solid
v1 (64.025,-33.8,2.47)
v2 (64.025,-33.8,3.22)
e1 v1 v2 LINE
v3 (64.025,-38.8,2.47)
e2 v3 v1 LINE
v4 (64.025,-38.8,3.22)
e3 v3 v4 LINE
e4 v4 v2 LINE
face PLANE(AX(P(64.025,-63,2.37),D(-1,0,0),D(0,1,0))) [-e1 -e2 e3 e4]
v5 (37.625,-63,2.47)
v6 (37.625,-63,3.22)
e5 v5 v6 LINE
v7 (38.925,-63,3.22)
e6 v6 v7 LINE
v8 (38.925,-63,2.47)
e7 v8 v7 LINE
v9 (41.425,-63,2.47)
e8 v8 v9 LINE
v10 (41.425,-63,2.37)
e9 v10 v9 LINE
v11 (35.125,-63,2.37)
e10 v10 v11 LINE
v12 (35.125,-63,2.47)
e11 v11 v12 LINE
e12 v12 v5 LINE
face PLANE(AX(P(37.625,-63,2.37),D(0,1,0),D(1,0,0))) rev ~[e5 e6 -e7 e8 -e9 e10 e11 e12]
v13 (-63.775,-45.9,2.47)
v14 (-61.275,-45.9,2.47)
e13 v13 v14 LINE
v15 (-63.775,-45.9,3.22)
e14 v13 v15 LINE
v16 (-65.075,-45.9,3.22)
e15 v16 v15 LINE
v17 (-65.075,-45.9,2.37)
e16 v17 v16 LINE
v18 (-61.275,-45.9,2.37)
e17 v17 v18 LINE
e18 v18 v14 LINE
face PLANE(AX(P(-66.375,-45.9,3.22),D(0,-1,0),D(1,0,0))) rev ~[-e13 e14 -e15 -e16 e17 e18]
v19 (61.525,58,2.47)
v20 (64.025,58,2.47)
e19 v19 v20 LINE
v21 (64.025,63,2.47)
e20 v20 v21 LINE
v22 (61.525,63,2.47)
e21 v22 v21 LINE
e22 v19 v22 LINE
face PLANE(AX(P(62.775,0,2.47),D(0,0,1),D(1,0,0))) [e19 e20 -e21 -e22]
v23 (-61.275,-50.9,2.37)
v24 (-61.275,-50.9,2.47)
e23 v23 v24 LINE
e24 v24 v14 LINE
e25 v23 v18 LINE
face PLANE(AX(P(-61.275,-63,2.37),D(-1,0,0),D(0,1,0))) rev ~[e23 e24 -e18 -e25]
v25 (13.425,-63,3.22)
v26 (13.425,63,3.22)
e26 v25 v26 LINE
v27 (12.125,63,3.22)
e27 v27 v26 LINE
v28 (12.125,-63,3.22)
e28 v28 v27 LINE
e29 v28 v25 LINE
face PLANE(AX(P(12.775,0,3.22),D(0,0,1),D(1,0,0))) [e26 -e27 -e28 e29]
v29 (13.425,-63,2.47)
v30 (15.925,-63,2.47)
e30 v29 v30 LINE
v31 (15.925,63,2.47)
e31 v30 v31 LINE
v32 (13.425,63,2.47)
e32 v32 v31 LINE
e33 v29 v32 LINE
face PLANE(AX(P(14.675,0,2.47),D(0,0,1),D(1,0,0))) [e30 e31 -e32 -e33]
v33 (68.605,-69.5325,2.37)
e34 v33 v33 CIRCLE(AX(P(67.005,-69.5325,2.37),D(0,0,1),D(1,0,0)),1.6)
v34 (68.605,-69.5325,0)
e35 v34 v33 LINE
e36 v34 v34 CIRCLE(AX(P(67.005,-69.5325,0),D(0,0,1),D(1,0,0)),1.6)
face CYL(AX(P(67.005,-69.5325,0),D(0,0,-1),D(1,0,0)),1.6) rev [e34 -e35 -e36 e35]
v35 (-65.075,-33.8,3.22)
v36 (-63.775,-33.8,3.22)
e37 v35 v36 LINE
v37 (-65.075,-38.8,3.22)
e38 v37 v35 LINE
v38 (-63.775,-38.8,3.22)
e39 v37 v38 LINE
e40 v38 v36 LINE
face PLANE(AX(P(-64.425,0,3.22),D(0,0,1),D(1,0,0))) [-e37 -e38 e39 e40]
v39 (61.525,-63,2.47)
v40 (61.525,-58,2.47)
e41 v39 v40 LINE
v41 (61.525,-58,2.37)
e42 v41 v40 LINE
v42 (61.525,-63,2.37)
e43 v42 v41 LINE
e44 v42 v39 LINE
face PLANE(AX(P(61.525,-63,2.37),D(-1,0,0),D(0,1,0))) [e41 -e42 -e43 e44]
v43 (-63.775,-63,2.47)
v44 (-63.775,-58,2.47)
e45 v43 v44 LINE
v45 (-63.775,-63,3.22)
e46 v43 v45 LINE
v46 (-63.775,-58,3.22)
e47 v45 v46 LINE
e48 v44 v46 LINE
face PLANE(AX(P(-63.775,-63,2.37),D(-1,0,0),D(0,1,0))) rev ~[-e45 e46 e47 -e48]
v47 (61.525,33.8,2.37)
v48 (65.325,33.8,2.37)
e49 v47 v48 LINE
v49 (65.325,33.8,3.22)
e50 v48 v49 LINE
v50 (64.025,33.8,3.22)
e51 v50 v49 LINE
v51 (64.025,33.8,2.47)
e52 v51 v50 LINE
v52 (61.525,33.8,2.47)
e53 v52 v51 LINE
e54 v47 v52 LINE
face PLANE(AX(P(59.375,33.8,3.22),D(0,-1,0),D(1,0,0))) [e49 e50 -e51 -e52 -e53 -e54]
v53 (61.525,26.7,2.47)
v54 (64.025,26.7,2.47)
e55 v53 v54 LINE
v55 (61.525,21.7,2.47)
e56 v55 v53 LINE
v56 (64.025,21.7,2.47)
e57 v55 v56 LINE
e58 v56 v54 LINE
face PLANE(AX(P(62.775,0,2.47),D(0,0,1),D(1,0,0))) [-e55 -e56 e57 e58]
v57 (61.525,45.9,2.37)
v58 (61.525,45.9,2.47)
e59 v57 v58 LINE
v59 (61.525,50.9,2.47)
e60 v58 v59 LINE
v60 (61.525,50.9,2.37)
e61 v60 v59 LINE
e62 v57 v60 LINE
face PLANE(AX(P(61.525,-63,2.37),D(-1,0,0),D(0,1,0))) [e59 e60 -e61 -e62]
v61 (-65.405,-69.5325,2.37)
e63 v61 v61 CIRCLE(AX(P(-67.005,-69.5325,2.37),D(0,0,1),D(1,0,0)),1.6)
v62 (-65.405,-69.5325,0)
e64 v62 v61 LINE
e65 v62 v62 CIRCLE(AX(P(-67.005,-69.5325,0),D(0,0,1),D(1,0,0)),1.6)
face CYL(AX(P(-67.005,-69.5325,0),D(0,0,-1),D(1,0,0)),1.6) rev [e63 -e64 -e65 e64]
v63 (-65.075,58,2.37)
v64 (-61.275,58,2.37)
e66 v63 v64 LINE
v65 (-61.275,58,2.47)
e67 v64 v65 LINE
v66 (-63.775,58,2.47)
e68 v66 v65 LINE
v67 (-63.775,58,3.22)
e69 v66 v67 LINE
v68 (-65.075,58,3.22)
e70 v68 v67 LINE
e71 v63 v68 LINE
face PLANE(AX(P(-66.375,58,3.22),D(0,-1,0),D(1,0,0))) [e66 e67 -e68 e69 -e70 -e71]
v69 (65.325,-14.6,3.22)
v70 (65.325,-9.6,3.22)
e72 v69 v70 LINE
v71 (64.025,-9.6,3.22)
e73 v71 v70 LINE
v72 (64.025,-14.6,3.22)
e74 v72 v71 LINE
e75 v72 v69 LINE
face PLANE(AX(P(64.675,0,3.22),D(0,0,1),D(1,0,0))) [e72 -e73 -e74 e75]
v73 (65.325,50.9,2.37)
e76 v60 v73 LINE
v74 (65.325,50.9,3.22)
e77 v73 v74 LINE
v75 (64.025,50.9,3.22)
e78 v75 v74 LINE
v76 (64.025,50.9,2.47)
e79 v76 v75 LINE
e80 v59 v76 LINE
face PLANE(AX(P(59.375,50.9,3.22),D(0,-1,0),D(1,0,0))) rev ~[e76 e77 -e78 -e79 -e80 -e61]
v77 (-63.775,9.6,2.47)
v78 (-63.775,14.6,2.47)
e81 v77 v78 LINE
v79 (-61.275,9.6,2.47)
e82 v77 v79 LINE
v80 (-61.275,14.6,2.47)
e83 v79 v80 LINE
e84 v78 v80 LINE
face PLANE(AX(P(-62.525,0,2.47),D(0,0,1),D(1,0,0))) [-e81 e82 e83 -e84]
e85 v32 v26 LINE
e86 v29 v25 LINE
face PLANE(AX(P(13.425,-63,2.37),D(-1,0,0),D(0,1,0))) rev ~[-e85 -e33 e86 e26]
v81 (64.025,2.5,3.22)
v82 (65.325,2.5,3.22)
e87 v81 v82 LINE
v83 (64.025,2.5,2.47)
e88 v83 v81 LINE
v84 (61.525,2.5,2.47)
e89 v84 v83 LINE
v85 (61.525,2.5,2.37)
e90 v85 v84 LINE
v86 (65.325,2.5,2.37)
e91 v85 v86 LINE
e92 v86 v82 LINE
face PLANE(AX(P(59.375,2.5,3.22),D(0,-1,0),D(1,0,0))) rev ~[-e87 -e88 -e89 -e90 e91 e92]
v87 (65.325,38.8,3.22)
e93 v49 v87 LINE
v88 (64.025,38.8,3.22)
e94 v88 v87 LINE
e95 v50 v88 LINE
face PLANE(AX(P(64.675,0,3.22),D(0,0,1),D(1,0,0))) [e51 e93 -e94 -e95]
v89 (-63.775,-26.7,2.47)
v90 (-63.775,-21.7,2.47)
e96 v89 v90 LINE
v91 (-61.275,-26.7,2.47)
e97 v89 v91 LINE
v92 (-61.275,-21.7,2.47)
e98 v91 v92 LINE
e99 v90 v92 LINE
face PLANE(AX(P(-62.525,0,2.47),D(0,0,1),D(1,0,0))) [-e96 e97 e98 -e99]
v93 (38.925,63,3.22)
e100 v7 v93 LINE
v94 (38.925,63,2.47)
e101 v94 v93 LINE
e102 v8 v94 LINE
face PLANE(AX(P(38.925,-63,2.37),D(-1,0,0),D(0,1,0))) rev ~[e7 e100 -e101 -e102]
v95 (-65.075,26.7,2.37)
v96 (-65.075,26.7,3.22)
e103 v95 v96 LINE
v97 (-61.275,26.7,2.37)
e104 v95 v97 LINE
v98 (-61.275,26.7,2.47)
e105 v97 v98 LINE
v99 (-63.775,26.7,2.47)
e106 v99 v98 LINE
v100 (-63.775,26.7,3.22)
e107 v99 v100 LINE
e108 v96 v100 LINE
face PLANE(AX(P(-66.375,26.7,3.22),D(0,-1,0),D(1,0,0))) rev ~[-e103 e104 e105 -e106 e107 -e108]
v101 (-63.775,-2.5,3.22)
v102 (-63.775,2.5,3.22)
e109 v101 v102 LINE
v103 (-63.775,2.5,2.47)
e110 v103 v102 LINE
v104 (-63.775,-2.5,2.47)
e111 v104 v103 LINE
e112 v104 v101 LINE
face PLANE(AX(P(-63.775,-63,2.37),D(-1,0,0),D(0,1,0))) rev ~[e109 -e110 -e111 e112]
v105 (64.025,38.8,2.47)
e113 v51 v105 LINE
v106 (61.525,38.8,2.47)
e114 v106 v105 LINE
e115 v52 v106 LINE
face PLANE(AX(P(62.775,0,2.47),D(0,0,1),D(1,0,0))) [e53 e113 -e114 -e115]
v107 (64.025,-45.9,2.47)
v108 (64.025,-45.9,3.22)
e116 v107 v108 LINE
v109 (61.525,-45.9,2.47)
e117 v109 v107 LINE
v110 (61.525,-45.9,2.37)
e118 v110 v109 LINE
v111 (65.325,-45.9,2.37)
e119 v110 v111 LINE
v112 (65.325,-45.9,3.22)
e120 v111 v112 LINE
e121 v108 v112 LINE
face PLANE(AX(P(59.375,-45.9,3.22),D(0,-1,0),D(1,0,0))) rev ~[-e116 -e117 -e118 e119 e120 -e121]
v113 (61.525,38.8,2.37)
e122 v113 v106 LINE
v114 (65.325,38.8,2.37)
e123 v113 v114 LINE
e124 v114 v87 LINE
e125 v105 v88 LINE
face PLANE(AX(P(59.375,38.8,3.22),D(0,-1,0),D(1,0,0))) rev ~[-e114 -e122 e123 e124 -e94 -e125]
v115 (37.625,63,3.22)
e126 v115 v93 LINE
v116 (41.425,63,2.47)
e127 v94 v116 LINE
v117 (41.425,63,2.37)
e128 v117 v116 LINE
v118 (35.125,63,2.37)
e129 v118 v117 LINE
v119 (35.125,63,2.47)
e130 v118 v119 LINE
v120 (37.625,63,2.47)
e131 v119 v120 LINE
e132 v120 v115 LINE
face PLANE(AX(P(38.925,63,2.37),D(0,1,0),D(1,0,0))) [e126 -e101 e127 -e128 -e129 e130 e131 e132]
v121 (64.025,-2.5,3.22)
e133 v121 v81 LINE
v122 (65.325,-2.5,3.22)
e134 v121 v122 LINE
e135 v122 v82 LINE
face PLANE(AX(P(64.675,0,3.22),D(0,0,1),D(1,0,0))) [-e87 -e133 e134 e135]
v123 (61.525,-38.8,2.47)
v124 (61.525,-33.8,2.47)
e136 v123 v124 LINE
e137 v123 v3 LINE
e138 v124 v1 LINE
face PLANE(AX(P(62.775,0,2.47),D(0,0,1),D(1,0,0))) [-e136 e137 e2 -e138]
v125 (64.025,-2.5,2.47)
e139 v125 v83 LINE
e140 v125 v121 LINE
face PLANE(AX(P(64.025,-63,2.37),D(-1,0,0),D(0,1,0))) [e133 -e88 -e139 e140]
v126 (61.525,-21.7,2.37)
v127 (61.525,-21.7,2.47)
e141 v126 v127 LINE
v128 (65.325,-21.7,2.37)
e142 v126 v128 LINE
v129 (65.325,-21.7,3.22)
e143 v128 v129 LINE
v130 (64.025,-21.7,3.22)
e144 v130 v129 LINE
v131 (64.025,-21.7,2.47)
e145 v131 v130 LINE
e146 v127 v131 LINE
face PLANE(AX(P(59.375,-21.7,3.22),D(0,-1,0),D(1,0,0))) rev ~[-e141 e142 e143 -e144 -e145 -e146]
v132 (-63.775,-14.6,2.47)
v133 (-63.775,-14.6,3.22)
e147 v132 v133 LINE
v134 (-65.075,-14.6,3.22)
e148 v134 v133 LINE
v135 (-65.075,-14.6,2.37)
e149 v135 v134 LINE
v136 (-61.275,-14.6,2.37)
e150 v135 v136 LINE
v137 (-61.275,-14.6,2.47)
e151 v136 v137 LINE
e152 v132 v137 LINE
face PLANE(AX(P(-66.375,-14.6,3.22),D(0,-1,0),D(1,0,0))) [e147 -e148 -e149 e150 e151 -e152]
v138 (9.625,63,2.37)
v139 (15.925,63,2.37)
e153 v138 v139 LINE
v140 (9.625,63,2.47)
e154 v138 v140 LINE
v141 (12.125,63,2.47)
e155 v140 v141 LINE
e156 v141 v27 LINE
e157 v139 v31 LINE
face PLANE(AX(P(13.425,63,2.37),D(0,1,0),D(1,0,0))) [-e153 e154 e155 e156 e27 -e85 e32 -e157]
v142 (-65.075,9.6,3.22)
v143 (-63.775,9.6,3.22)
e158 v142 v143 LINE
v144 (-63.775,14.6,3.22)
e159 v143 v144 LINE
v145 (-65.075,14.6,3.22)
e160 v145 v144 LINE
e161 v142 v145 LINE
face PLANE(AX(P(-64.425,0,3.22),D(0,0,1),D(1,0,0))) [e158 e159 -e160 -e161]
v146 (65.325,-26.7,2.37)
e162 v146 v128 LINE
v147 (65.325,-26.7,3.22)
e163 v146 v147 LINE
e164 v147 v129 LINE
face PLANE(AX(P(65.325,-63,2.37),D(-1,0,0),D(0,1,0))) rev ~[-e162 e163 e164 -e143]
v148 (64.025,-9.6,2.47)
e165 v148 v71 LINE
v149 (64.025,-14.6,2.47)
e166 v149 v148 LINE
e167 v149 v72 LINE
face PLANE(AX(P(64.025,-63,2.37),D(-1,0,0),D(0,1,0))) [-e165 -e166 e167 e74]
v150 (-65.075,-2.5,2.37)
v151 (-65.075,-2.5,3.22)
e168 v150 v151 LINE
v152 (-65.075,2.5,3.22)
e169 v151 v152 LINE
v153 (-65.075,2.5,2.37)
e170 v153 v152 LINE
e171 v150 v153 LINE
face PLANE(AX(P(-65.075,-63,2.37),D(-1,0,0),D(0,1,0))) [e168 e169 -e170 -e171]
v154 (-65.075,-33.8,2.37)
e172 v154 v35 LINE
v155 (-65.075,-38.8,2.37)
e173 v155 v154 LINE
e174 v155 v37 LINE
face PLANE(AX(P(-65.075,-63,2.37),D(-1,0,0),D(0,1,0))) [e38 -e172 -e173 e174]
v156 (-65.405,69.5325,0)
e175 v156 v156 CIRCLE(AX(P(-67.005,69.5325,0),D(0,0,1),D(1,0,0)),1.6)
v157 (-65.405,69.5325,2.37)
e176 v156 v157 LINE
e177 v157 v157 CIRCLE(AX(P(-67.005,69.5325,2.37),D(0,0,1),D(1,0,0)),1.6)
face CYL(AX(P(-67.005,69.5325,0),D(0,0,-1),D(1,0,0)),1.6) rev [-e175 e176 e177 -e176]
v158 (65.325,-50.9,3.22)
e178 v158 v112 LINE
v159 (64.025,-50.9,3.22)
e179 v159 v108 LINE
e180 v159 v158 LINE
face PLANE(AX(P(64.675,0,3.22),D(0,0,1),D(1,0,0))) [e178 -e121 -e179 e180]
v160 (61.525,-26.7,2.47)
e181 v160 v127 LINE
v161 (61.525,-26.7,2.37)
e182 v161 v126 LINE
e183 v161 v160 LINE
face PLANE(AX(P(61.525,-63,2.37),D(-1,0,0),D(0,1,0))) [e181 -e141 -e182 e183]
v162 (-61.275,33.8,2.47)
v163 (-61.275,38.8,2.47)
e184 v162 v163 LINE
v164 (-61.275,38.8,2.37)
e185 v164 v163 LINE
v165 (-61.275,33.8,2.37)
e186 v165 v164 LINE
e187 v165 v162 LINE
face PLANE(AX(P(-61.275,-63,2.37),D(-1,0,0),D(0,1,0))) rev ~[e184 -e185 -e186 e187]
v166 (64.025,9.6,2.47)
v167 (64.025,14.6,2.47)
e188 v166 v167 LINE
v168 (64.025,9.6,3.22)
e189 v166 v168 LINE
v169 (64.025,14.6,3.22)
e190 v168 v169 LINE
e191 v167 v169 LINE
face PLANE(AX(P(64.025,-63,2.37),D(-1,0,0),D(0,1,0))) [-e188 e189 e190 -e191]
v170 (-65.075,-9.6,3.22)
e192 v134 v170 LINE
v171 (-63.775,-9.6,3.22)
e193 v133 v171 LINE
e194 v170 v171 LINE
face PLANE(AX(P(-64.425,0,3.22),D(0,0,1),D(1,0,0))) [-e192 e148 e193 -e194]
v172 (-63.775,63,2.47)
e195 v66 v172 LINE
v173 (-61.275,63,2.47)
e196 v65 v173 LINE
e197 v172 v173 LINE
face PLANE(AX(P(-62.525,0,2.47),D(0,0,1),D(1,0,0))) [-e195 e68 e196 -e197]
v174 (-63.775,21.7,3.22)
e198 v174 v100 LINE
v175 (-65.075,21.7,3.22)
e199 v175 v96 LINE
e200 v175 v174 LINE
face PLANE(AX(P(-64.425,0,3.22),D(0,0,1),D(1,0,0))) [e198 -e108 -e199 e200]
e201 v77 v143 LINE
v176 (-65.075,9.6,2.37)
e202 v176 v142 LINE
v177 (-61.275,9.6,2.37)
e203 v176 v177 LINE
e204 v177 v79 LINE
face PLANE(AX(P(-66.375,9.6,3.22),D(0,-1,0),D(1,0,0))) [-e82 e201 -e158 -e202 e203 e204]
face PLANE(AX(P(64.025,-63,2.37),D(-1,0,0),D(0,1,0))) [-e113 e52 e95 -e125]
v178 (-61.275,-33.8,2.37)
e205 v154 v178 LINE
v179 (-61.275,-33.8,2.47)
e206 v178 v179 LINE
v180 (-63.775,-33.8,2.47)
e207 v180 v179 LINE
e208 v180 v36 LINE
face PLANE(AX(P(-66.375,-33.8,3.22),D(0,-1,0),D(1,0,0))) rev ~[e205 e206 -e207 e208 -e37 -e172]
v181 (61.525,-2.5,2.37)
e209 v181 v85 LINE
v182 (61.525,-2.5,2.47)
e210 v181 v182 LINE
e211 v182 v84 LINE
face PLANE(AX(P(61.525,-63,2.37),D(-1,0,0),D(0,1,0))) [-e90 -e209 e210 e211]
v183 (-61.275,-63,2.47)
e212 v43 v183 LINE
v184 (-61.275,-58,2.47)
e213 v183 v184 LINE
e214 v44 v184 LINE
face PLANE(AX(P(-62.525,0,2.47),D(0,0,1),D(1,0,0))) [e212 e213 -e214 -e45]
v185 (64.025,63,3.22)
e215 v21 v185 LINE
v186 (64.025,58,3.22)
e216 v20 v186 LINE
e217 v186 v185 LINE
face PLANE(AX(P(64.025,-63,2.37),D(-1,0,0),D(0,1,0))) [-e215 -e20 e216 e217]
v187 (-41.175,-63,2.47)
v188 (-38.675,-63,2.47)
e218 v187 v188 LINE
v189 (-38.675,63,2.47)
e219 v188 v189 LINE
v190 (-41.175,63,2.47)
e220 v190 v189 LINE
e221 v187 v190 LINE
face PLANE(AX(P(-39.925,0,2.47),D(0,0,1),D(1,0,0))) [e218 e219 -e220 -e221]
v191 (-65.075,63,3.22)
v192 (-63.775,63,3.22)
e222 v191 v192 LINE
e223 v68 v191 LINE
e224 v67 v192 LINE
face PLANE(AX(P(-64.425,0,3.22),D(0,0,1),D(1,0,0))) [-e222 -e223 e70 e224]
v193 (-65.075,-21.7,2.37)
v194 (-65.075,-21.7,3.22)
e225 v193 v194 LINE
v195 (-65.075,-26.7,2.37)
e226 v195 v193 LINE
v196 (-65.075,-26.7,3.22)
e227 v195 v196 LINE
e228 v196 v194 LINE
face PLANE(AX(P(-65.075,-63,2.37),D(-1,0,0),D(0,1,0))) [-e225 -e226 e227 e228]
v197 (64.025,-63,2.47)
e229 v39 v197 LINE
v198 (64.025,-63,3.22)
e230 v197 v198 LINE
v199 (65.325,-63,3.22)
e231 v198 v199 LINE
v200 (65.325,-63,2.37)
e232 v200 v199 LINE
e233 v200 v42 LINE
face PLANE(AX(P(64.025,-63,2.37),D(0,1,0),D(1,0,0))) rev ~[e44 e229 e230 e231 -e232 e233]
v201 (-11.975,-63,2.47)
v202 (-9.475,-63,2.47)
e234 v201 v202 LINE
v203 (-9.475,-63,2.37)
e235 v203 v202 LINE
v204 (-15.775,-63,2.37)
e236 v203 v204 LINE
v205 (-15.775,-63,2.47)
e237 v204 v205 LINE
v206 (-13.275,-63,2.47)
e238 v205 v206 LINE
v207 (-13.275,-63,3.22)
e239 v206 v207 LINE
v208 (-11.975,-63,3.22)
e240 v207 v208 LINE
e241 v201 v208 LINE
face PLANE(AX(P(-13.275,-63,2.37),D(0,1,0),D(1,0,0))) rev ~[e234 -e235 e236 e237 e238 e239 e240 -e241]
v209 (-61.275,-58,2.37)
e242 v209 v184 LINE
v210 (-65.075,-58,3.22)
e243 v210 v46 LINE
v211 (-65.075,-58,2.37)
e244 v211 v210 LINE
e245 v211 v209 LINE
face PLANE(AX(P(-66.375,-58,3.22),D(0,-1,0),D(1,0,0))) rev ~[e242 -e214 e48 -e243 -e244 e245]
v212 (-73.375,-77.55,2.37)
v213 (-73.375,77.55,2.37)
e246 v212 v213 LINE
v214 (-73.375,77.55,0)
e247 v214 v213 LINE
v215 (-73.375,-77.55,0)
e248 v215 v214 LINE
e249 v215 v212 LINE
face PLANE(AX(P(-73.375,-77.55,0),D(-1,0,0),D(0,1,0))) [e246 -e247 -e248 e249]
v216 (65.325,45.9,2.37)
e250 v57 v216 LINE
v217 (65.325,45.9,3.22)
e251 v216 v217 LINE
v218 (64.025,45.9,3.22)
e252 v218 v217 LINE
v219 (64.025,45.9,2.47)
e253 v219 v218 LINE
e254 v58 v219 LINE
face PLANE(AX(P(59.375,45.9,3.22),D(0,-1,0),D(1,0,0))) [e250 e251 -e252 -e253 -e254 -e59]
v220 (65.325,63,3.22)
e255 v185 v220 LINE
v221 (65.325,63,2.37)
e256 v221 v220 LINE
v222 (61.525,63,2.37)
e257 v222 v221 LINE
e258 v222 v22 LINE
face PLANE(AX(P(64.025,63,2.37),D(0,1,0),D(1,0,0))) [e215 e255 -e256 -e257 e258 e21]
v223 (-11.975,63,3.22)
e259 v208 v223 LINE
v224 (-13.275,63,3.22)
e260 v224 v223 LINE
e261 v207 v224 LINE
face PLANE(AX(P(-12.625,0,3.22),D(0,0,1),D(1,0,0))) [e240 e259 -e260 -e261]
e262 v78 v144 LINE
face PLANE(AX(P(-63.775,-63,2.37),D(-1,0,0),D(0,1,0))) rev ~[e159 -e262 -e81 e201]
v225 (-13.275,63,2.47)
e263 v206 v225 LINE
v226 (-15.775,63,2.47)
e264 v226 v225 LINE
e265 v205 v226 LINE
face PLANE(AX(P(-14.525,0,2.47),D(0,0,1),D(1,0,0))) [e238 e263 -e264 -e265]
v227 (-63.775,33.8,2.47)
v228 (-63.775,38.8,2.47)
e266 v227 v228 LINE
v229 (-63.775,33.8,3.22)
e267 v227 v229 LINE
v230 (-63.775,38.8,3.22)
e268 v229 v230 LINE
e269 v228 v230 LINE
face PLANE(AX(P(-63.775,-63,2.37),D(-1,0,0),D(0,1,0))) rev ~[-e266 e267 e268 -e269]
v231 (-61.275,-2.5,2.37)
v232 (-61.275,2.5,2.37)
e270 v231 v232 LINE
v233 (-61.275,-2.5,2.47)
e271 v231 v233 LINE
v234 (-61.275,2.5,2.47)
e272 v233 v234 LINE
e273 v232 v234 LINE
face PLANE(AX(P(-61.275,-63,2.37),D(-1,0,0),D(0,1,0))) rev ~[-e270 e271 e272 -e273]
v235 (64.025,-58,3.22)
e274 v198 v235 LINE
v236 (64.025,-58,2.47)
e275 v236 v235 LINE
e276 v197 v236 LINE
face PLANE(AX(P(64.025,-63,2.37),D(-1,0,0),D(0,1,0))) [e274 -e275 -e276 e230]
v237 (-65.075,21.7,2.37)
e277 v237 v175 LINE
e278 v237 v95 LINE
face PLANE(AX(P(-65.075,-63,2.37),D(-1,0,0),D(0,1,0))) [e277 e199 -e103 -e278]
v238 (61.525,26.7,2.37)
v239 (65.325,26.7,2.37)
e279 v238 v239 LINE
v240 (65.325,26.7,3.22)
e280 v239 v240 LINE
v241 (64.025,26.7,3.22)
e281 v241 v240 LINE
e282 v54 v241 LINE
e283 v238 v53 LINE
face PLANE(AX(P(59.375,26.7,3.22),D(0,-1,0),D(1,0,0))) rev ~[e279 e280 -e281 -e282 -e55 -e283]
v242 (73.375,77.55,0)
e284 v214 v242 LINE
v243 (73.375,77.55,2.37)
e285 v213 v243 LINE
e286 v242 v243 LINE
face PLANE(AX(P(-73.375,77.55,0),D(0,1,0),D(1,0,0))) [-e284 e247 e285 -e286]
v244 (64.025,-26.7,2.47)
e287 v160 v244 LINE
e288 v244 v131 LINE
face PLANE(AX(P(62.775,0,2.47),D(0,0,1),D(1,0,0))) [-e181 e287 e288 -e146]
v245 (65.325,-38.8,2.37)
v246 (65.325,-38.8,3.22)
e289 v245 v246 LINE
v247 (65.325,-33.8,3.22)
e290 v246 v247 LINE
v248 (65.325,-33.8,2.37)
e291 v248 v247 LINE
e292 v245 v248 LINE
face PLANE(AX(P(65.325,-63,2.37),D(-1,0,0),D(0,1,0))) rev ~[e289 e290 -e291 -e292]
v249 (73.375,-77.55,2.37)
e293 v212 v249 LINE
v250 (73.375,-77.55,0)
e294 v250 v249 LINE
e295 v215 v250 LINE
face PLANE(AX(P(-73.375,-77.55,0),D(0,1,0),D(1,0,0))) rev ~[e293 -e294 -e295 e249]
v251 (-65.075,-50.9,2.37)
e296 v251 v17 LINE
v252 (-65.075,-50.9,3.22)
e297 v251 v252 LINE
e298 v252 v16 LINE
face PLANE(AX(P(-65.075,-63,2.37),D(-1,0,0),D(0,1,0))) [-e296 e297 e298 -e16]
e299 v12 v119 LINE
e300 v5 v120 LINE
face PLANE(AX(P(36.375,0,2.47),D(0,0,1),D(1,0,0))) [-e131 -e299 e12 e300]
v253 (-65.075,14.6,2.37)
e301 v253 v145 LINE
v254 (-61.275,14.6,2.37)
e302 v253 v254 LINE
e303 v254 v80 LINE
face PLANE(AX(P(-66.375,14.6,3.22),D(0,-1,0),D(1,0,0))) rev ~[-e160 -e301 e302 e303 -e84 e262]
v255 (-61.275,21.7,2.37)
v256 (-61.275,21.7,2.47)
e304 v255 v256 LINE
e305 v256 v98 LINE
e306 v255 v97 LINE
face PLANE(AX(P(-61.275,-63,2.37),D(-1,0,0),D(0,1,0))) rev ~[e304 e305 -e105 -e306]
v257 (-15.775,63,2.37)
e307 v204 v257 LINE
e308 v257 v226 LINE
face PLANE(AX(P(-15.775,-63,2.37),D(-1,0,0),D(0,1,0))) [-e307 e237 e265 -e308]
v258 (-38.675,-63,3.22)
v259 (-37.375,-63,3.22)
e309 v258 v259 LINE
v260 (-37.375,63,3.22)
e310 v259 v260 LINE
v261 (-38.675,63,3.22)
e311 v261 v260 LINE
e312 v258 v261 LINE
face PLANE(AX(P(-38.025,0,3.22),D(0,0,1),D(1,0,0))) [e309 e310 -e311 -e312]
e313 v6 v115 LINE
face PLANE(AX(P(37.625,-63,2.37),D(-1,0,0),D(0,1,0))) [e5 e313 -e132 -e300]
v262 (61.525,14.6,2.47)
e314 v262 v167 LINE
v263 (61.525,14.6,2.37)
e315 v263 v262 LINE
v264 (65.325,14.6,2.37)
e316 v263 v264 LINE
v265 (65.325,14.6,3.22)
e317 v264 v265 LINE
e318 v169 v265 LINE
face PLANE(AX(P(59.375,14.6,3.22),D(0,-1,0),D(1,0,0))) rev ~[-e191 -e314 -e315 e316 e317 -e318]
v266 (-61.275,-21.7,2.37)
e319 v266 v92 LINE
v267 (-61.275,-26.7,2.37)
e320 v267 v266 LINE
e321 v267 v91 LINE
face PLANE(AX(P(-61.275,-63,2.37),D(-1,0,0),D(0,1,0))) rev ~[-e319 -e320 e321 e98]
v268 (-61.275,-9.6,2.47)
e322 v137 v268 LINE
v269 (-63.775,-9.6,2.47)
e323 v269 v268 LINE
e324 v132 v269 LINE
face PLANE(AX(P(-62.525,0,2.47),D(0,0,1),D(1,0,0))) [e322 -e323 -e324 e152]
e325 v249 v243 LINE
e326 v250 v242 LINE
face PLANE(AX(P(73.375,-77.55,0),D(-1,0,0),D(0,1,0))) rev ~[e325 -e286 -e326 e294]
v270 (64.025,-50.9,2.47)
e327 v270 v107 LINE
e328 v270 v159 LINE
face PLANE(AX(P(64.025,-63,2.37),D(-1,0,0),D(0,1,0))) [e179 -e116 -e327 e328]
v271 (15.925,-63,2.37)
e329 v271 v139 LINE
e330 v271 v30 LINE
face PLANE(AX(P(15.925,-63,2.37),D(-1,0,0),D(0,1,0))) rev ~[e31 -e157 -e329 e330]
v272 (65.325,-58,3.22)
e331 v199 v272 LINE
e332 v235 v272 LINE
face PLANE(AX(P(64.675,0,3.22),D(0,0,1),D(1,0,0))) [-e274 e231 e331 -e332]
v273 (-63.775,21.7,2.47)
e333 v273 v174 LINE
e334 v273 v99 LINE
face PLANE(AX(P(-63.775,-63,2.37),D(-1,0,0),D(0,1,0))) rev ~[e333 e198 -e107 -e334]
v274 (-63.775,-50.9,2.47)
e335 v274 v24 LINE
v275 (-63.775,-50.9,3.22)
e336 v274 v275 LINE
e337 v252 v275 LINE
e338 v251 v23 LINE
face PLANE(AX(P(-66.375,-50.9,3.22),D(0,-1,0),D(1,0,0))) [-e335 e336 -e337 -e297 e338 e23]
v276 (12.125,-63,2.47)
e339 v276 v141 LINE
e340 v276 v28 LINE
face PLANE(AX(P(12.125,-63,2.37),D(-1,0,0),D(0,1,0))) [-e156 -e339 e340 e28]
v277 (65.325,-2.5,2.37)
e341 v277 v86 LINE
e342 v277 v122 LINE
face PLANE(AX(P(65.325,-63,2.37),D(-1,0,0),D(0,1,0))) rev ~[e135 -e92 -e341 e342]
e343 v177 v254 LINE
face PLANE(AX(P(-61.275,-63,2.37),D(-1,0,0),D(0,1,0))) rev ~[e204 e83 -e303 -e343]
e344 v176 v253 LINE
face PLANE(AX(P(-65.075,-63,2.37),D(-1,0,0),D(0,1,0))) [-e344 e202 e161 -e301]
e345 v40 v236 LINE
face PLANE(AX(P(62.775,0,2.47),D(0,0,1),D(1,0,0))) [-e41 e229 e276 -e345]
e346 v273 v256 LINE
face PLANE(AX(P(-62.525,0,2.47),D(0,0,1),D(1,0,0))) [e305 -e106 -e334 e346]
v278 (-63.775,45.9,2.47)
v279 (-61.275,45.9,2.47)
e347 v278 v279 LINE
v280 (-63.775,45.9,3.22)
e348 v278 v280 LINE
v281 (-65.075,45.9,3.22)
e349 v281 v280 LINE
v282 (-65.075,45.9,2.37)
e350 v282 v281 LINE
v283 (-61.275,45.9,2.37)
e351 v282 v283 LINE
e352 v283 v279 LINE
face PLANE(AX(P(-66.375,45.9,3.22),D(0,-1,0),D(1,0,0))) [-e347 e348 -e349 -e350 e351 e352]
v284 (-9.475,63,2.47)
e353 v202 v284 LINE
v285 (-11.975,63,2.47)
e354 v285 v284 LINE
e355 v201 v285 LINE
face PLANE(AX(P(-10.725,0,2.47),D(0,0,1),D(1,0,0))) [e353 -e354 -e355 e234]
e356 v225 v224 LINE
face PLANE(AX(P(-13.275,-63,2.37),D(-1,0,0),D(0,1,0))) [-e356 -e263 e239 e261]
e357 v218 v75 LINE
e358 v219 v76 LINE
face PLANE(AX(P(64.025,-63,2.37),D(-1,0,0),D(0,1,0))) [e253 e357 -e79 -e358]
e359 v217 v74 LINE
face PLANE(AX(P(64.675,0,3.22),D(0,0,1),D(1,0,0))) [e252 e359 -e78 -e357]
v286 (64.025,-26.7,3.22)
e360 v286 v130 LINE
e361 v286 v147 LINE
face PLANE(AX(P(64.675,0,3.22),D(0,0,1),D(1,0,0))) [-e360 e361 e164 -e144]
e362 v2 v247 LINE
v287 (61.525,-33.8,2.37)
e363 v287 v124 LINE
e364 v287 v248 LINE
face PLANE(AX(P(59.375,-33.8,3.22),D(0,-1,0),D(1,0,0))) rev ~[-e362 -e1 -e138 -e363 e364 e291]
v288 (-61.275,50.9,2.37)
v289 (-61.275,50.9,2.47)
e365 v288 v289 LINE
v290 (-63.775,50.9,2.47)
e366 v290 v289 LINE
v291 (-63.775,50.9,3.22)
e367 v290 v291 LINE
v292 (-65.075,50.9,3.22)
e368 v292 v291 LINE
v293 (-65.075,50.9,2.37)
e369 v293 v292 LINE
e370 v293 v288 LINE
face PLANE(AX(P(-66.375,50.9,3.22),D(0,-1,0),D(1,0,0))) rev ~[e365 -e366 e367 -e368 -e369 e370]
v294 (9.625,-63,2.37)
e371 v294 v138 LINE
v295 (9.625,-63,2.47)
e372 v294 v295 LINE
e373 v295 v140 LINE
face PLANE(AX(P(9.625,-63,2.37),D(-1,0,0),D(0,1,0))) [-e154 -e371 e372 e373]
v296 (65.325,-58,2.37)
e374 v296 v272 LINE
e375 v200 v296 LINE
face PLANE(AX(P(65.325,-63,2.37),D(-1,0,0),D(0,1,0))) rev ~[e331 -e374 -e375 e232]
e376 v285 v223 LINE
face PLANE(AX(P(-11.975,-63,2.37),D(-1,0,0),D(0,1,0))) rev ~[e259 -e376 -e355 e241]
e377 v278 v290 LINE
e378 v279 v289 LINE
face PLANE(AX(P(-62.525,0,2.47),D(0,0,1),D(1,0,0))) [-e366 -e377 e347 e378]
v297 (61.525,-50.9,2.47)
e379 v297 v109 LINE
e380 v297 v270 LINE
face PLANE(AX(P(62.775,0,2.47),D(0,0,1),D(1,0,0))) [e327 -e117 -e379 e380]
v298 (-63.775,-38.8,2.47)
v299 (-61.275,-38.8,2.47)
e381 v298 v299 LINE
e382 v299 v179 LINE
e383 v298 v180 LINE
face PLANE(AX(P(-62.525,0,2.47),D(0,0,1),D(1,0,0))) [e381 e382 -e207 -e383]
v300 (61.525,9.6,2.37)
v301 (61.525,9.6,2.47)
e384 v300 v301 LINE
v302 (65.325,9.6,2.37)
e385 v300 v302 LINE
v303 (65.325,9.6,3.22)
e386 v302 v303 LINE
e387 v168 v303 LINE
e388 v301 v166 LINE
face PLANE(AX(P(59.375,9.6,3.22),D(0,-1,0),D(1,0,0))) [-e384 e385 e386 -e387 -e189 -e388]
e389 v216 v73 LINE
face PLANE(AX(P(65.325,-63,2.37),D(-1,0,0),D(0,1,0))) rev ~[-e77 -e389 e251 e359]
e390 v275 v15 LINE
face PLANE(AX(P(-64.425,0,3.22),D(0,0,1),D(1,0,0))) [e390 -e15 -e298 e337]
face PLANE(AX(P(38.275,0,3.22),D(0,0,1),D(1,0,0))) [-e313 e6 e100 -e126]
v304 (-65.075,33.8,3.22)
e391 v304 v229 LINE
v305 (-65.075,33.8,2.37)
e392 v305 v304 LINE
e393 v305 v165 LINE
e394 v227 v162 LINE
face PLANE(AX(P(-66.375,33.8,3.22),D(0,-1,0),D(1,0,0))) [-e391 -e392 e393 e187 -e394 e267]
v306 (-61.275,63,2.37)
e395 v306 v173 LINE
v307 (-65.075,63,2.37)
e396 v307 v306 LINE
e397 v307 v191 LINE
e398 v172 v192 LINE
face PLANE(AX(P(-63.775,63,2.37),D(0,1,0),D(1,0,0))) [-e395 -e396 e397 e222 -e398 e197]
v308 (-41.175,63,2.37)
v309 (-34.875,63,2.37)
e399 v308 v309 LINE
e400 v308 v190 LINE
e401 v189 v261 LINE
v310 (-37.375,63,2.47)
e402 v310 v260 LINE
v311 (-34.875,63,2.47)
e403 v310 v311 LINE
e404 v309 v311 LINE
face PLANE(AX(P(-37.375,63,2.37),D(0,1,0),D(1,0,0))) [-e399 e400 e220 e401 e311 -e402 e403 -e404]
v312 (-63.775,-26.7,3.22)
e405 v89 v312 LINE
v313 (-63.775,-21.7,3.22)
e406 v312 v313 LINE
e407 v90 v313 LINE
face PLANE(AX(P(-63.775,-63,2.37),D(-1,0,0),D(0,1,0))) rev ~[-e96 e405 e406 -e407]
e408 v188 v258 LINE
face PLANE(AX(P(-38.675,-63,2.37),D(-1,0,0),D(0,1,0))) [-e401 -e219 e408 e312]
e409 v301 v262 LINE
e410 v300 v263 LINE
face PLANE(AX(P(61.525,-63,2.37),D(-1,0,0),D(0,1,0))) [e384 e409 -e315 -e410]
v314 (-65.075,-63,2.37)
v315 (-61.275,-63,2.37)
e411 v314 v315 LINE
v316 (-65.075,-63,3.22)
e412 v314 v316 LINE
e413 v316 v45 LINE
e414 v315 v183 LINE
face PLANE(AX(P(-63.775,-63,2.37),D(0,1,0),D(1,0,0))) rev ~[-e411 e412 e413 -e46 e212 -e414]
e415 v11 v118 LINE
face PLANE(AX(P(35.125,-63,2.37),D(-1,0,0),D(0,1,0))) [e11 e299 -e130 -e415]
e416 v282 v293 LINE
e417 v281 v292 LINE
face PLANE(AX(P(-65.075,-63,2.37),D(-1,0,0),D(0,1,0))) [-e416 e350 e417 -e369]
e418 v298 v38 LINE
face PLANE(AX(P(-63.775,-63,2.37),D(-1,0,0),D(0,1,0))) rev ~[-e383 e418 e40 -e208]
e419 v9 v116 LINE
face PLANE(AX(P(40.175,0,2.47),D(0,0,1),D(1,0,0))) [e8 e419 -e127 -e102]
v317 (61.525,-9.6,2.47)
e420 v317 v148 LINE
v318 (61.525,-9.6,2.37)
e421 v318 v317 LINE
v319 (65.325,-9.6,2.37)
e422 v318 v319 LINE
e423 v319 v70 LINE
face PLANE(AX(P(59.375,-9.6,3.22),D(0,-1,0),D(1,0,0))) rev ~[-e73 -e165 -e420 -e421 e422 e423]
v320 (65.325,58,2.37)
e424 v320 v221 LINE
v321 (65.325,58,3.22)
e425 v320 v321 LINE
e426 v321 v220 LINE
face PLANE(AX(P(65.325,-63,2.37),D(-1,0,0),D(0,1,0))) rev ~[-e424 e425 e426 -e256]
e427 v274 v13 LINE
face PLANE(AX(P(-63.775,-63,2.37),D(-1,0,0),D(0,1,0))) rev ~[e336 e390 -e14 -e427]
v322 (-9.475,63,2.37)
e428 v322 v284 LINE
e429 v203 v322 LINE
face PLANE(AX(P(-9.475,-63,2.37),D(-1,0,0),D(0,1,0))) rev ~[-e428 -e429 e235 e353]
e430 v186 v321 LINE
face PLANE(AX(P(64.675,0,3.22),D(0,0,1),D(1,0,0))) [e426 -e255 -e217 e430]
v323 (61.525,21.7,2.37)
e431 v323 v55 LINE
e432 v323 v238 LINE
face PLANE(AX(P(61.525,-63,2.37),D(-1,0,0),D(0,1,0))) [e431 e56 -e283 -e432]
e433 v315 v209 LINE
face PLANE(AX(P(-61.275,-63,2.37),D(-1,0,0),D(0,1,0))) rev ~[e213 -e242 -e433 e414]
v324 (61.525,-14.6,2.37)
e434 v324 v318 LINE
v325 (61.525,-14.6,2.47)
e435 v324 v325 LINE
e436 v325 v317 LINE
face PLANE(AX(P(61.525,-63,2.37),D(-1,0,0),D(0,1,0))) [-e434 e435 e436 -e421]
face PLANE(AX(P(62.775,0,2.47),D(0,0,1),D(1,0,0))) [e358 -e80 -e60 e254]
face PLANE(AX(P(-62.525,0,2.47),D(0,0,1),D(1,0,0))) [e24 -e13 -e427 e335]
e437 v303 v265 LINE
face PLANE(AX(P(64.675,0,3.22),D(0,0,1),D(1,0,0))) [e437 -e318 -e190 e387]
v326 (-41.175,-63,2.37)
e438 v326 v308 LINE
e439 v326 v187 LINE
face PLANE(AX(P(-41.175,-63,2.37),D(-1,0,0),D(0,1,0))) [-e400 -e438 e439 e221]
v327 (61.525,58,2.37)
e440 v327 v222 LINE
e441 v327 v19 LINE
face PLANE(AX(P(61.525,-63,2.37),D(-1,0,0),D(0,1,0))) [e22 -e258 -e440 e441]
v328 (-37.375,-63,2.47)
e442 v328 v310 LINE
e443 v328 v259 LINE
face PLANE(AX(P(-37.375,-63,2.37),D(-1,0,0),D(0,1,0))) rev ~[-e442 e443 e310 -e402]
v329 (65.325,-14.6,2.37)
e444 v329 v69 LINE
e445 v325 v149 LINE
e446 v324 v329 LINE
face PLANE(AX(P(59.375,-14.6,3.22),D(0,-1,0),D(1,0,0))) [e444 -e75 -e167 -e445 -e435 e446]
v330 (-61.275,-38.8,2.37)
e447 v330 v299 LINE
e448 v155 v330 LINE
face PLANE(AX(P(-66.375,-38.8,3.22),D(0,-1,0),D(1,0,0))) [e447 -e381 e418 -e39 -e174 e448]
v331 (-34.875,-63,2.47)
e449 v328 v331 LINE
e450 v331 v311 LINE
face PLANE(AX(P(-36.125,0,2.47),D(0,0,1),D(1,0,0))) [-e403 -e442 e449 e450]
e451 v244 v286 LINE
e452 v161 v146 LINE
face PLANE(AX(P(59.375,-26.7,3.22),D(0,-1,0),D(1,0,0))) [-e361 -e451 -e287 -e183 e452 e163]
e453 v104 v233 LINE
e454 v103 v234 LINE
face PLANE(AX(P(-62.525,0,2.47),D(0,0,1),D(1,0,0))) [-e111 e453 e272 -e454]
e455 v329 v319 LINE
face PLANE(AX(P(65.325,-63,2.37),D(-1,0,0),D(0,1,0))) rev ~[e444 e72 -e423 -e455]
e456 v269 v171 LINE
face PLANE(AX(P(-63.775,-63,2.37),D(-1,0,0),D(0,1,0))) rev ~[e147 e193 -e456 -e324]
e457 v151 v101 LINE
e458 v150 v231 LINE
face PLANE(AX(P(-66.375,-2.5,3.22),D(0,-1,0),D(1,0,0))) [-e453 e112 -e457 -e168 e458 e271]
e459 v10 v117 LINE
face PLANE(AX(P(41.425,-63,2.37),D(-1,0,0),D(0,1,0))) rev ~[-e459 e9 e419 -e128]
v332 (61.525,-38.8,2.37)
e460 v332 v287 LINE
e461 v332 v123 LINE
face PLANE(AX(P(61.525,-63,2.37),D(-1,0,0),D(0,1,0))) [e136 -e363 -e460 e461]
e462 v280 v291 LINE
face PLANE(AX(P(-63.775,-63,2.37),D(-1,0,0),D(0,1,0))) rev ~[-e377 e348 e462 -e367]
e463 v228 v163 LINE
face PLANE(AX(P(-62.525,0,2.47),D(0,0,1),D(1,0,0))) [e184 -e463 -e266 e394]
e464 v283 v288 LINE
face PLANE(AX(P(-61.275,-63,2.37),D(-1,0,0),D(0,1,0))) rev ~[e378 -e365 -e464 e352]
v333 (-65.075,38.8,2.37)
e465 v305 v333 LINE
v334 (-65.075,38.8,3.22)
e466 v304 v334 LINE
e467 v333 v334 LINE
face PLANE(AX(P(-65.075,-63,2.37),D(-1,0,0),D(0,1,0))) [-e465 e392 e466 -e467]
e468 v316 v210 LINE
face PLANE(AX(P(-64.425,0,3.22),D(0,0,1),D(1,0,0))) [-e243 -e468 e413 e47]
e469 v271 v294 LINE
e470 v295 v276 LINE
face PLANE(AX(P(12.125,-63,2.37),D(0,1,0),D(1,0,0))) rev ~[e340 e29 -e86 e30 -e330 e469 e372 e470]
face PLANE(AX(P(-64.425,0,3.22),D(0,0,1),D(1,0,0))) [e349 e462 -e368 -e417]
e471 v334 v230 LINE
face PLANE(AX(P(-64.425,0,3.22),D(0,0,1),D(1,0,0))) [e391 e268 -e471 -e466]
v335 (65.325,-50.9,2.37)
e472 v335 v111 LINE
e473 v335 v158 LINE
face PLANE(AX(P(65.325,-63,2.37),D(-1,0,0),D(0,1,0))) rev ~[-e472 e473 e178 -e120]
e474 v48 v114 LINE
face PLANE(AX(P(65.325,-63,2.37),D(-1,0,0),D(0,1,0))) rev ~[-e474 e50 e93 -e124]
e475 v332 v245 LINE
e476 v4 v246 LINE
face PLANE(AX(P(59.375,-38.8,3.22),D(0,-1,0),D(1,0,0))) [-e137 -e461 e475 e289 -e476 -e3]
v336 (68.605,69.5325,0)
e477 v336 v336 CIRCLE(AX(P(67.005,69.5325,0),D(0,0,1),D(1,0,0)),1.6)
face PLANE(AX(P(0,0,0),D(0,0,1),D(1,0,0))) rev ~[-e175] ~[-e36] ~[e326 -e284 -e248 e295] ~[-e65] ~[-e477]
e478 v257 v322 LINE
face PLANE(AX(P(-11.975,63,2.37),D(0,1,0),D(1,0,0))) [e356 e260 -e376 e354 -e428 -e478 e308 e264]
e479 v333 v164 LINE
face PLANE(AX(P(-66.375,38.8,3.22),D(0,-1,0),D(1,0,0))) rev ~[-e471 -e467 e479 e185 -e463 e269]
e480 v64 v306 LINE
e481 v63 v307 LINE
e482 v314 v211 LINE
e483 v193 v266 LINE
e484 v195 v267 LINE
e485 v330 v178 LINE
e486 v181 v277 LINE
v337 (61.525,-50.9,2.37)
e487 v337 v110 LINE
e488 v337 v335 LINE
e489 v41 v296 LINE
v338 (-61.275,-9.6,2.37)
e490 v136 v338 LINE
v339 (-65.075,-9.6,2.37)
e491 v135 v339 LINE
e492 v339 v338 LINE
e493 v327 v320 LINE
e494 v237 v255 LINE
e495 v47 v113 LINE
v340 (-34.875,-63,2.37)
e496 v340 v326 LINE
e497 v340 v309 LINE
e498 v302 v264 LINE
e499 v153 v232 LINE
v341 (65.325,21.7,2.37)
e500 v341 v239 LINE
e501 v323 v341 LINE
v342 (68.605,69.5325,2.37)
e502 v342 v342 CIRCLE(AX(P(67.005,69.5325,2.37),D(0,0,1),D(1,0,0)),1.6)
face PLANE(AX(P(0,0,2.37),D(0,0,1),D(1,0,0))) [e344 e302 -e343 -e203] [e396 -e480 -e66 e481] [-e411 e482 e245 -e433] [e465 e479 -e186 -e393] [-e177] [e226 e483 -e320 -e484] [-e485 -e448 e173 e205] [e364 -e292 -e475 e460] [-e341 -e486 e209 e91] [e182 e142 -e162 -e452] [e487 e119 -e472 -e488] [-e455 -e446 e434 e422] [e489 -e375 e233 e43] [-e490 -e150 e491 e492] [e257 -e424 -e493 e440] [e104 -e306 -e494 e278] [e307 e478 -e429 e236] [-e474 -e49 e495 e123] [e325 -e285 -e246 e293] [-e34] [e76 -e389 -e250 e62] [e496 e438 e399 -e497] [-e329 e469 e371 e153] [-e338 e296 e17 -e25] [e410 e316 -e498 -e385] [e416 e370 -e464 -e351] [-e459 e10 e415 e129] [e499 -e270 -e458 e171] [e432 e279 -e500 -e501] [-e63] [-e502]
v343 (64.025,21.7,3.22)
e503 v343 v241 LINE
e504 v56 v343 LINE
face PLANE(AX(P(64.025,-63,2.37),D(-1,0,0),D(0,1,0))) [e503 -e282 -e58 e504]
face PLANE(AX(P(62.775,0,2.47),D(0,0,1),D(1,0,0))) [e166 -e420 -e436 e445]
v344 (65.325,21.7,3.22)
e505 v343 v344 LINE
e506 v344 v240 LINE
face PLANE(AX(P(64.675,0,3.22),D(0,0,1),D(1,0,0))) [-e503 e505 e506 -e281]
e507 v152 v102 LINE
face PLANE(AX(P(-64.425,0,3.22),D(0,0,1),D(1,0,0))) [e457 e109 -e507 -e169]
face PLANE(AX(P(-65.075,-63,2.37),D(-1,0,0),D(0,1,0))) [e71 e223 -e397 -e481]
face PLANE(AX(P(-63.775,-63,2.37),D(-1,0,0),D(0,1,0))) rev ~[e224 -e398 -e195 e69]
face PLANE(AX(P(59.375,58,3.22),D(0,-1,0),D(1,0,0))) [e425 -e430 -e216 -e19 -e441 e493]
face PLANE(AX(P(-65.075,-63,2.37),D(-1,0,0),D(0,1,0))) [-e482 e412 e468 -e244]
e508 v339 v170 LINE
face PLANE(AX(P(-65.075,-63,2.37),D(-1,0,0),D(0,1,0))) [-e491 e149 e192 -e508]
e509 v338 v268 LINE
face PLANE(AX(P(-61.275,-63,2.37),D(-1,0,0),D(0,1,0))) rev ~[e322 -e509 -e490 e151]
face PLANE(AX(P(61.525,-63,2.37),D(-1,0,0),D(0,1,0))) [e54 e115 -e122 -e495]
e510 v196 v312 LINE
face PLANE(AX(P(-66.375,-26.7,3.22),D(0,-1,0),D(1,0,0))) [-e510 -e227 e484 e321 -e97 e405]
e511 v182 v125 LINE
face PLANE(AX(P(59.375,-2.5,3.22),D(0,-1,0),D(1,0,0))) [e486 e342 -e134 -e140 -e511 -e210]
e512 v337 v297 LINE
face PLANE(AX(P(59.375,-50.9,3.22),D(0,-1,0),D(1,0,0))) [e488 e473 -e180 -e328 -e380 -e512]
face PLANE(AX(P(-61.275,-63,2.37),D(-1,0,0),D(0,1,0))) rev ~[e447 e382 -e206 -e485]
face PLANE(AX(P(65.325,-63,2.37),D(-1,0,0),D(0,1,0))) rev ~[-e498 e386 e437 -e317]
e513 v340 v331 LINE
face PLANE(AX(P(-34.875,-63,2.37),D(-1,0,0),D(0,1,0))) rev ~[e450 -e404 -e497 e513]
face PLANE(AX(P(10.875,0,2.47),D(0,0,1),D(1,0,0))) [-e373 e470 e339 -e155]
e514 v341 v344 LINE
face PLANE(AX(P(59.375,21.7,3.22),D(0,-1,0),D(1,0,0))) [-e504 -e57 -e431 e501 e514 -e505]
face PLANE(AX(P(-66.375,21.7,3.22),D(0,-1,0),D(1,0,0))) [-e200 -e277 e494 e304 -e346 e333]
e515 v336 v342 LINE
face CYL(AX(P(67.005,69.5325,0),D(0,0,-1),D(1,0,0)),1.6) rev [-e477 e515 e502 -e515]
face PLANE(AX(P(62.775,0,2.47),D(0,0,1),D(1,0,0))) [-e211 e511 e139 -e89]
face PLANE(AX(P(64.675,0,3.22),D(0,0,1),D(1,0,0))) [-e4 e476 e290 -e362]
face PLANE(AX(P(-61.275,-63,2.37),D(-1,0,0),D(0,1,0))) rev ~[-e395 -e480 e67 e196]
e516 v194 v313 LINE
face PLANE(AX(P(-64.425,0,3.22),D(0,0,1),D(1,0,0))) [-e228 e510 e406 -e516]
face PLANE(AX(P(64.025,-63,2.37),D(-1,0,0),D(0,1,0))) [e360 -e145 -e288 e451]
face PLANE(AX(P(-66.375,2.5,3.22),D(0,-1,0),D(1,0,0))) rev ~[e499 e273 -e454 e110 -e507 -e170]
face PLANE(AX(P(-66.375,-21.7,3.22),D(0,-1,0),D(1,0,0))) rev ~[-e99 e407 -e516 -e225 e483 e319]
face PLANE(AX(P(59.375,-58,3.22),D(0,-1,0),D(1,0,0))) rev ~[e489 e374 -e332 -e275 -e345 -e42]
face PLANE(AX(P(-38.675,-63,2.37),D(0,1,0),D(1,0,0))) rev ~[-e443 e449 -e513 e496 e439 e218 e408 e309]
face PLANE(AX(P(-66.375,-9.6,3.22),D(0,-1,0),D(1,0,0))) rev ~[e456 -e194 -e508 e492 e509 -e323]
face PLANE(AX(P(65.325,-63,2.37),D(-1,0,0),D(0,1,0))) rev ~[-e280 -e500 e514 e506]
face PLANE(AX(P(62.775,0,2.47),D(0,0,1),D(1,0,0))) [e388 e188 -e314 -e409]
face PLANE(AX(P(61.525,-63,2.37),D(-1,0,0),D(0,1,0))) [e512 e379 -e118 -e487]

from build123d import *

# Parameters (mm, degrees)
F0_W     = 146.75
F0_H     = 155.1
F0_R     = 1.6
F1_DEPTH = 2.37
F2_W     = 1.3
F2_H     = 126
F3_DEPTH = 0.85
F4_W     = 2.5
F4_H     = 126
F5_DEPTH = 0.1
F6_W     = 8
F6_H     = 7.1
F7_DEPTH = 0.85


with BuildPart() as f1:
    # F0 (on Top) → F1 (new body)
    with BuildSketch(Plane.XY):
        Rectangle(F0_W, F0_H)
        with Locations((-67.005, -69.5325)):
            Circle(F0_R, mode=Mode.SUBTRACT)
        with Locations((67.005, -69.5325)):
            Circle(F0_R, mode=Mode.SUBTRACT)
        with Locations((-67.005, 69.5325)):
            Circle(F0_R, mode=Mode.SUBTRACT)
        with Locations((67.005, 69.5325)):
            Circle(F0_R, mode=Mode.SUBTRACT)
    extrude(amount=F1_DEPTH)

    # F2 (on face) → F3 (join)
    with BuildSketch(Plane.XY.offset(2.37)):
        with Locations((64.675, 0)):
            Rectangle(F2_W, F2_H)
        with Locations((38.275, 0)):
            Rectangle(F2_W, F2_H)
        with Locations((12.775, 0)):
            Rectangle(F2_W, F2_H)
        with Locations((-38.025, 0)):
            Rectangle(F2_W, F2_H)
        with Locations((-12.625, 0)):
            Rectangle(F2_W, F2_H)
        with Locations((-64.425, 0)):
            Rectangle(F2_W, F2_H)
    extrude(amount=F3_DEPTH)

    # F4 (on face) → F5 (join)
    with BuildSketch(Plane.XY.offset(2.37)):
        with Locations((-62.525, 0)):
            Rectangle(F4_W, F4_H)
        with Locations((-39.925, 0)):
            Rectangle(F4_W, F4_H)
        with Locations((-36.125, 0)):
            Rectangle(F4_W, F4_H)
        with Locations((-14.525, 0)):
            Rectangle(F4_W, F4_H)
        with Locations((-10.725, 0)):
            Rectangle(F4_W, F4_H)
        with Locations((10.875, 0)):
            Rectangle(F4_W, F4_H)
        with Locations((14.675, 0)):
            Rectangle(F4_W, F4_H)
        with Locations((36.375, 0)):
            Rectangle(F4_W, F4_H)
        with Locations((40.175, 0)):
            Rectangle(F4_W, F4_H)
        with Locations((62.775, 0)):
            Rectangle(F4_W, F4_H)
    extrude(amount=F5_DEPTH)

    # F6 (on face) → F7 (cut)
    with BuildSketch(Plane.XY.offset(3.22)):
        with Locations((-62.375, -54.45)):
            Rectangle(F6_W, F6_H)
        with Locations((-62.375, -42.35)):
            Rectangle(F6_W, F6_H)
        with Locations((-62.375, -30.25)):
            Rectangle(F6_W, F6_H)
        with Locations((-62.375, -18.15)):
            Rectangle(F6_W, F6_H)
        with Locations((-62.375, -6.05)):
            Rectangle(F6_W, F6_H)
        with Locations((-62.375, 6.05)):
            Rectangle(F6_W, F6_H)
        with Locations((-62.375, 18.15)):
            Rectangle(F6_W, F6_H)
        with Locations((-62.375, 30.25)):
            Rectangle(F6_W, F6_H)
        with Locations((-62.375, 42.35)):
            Rectangle(F6_W, F6_H)
        with Locations((-62.375, 54.45)):
            Rectangle(F6_W, F6_H)
        with Locations((63.375, -54.45)):
            Rectangle(F6_W, F6_H)
        with Locations((63.375, -42.35)):
            Rectangle(F6_W, F6_H)
        with Locations((63.375, -30.25)):
            Rectangle(F6_W, F6_H)
        with Locations((63.375, -18.15)):
            Rectangle(F6_W, F6_H)
        with Locations((63.375, -6.05)):
            Rectangle(F6_W, F6_H)
        with Locations((63.375, 6.05)):
            Rectangle(F6_W, F6_H)
        with Locations((63.375, 18.15)):
            Rectangle(F6_W, F6_H)
        with Locations((63.375, 30.25)):
            Rectangle(F6_W, F6_H)
        with Locations((63.375, 42.35)):
            Rectangle(F6_W, F6_H)
        with Locations((63.375, 54.45)):
            Rectangle(F6_W, F6_H)
    extrude(amount=-F7_DEPTH, mode=Mode.SUBTRACT)


solid = f1.part
